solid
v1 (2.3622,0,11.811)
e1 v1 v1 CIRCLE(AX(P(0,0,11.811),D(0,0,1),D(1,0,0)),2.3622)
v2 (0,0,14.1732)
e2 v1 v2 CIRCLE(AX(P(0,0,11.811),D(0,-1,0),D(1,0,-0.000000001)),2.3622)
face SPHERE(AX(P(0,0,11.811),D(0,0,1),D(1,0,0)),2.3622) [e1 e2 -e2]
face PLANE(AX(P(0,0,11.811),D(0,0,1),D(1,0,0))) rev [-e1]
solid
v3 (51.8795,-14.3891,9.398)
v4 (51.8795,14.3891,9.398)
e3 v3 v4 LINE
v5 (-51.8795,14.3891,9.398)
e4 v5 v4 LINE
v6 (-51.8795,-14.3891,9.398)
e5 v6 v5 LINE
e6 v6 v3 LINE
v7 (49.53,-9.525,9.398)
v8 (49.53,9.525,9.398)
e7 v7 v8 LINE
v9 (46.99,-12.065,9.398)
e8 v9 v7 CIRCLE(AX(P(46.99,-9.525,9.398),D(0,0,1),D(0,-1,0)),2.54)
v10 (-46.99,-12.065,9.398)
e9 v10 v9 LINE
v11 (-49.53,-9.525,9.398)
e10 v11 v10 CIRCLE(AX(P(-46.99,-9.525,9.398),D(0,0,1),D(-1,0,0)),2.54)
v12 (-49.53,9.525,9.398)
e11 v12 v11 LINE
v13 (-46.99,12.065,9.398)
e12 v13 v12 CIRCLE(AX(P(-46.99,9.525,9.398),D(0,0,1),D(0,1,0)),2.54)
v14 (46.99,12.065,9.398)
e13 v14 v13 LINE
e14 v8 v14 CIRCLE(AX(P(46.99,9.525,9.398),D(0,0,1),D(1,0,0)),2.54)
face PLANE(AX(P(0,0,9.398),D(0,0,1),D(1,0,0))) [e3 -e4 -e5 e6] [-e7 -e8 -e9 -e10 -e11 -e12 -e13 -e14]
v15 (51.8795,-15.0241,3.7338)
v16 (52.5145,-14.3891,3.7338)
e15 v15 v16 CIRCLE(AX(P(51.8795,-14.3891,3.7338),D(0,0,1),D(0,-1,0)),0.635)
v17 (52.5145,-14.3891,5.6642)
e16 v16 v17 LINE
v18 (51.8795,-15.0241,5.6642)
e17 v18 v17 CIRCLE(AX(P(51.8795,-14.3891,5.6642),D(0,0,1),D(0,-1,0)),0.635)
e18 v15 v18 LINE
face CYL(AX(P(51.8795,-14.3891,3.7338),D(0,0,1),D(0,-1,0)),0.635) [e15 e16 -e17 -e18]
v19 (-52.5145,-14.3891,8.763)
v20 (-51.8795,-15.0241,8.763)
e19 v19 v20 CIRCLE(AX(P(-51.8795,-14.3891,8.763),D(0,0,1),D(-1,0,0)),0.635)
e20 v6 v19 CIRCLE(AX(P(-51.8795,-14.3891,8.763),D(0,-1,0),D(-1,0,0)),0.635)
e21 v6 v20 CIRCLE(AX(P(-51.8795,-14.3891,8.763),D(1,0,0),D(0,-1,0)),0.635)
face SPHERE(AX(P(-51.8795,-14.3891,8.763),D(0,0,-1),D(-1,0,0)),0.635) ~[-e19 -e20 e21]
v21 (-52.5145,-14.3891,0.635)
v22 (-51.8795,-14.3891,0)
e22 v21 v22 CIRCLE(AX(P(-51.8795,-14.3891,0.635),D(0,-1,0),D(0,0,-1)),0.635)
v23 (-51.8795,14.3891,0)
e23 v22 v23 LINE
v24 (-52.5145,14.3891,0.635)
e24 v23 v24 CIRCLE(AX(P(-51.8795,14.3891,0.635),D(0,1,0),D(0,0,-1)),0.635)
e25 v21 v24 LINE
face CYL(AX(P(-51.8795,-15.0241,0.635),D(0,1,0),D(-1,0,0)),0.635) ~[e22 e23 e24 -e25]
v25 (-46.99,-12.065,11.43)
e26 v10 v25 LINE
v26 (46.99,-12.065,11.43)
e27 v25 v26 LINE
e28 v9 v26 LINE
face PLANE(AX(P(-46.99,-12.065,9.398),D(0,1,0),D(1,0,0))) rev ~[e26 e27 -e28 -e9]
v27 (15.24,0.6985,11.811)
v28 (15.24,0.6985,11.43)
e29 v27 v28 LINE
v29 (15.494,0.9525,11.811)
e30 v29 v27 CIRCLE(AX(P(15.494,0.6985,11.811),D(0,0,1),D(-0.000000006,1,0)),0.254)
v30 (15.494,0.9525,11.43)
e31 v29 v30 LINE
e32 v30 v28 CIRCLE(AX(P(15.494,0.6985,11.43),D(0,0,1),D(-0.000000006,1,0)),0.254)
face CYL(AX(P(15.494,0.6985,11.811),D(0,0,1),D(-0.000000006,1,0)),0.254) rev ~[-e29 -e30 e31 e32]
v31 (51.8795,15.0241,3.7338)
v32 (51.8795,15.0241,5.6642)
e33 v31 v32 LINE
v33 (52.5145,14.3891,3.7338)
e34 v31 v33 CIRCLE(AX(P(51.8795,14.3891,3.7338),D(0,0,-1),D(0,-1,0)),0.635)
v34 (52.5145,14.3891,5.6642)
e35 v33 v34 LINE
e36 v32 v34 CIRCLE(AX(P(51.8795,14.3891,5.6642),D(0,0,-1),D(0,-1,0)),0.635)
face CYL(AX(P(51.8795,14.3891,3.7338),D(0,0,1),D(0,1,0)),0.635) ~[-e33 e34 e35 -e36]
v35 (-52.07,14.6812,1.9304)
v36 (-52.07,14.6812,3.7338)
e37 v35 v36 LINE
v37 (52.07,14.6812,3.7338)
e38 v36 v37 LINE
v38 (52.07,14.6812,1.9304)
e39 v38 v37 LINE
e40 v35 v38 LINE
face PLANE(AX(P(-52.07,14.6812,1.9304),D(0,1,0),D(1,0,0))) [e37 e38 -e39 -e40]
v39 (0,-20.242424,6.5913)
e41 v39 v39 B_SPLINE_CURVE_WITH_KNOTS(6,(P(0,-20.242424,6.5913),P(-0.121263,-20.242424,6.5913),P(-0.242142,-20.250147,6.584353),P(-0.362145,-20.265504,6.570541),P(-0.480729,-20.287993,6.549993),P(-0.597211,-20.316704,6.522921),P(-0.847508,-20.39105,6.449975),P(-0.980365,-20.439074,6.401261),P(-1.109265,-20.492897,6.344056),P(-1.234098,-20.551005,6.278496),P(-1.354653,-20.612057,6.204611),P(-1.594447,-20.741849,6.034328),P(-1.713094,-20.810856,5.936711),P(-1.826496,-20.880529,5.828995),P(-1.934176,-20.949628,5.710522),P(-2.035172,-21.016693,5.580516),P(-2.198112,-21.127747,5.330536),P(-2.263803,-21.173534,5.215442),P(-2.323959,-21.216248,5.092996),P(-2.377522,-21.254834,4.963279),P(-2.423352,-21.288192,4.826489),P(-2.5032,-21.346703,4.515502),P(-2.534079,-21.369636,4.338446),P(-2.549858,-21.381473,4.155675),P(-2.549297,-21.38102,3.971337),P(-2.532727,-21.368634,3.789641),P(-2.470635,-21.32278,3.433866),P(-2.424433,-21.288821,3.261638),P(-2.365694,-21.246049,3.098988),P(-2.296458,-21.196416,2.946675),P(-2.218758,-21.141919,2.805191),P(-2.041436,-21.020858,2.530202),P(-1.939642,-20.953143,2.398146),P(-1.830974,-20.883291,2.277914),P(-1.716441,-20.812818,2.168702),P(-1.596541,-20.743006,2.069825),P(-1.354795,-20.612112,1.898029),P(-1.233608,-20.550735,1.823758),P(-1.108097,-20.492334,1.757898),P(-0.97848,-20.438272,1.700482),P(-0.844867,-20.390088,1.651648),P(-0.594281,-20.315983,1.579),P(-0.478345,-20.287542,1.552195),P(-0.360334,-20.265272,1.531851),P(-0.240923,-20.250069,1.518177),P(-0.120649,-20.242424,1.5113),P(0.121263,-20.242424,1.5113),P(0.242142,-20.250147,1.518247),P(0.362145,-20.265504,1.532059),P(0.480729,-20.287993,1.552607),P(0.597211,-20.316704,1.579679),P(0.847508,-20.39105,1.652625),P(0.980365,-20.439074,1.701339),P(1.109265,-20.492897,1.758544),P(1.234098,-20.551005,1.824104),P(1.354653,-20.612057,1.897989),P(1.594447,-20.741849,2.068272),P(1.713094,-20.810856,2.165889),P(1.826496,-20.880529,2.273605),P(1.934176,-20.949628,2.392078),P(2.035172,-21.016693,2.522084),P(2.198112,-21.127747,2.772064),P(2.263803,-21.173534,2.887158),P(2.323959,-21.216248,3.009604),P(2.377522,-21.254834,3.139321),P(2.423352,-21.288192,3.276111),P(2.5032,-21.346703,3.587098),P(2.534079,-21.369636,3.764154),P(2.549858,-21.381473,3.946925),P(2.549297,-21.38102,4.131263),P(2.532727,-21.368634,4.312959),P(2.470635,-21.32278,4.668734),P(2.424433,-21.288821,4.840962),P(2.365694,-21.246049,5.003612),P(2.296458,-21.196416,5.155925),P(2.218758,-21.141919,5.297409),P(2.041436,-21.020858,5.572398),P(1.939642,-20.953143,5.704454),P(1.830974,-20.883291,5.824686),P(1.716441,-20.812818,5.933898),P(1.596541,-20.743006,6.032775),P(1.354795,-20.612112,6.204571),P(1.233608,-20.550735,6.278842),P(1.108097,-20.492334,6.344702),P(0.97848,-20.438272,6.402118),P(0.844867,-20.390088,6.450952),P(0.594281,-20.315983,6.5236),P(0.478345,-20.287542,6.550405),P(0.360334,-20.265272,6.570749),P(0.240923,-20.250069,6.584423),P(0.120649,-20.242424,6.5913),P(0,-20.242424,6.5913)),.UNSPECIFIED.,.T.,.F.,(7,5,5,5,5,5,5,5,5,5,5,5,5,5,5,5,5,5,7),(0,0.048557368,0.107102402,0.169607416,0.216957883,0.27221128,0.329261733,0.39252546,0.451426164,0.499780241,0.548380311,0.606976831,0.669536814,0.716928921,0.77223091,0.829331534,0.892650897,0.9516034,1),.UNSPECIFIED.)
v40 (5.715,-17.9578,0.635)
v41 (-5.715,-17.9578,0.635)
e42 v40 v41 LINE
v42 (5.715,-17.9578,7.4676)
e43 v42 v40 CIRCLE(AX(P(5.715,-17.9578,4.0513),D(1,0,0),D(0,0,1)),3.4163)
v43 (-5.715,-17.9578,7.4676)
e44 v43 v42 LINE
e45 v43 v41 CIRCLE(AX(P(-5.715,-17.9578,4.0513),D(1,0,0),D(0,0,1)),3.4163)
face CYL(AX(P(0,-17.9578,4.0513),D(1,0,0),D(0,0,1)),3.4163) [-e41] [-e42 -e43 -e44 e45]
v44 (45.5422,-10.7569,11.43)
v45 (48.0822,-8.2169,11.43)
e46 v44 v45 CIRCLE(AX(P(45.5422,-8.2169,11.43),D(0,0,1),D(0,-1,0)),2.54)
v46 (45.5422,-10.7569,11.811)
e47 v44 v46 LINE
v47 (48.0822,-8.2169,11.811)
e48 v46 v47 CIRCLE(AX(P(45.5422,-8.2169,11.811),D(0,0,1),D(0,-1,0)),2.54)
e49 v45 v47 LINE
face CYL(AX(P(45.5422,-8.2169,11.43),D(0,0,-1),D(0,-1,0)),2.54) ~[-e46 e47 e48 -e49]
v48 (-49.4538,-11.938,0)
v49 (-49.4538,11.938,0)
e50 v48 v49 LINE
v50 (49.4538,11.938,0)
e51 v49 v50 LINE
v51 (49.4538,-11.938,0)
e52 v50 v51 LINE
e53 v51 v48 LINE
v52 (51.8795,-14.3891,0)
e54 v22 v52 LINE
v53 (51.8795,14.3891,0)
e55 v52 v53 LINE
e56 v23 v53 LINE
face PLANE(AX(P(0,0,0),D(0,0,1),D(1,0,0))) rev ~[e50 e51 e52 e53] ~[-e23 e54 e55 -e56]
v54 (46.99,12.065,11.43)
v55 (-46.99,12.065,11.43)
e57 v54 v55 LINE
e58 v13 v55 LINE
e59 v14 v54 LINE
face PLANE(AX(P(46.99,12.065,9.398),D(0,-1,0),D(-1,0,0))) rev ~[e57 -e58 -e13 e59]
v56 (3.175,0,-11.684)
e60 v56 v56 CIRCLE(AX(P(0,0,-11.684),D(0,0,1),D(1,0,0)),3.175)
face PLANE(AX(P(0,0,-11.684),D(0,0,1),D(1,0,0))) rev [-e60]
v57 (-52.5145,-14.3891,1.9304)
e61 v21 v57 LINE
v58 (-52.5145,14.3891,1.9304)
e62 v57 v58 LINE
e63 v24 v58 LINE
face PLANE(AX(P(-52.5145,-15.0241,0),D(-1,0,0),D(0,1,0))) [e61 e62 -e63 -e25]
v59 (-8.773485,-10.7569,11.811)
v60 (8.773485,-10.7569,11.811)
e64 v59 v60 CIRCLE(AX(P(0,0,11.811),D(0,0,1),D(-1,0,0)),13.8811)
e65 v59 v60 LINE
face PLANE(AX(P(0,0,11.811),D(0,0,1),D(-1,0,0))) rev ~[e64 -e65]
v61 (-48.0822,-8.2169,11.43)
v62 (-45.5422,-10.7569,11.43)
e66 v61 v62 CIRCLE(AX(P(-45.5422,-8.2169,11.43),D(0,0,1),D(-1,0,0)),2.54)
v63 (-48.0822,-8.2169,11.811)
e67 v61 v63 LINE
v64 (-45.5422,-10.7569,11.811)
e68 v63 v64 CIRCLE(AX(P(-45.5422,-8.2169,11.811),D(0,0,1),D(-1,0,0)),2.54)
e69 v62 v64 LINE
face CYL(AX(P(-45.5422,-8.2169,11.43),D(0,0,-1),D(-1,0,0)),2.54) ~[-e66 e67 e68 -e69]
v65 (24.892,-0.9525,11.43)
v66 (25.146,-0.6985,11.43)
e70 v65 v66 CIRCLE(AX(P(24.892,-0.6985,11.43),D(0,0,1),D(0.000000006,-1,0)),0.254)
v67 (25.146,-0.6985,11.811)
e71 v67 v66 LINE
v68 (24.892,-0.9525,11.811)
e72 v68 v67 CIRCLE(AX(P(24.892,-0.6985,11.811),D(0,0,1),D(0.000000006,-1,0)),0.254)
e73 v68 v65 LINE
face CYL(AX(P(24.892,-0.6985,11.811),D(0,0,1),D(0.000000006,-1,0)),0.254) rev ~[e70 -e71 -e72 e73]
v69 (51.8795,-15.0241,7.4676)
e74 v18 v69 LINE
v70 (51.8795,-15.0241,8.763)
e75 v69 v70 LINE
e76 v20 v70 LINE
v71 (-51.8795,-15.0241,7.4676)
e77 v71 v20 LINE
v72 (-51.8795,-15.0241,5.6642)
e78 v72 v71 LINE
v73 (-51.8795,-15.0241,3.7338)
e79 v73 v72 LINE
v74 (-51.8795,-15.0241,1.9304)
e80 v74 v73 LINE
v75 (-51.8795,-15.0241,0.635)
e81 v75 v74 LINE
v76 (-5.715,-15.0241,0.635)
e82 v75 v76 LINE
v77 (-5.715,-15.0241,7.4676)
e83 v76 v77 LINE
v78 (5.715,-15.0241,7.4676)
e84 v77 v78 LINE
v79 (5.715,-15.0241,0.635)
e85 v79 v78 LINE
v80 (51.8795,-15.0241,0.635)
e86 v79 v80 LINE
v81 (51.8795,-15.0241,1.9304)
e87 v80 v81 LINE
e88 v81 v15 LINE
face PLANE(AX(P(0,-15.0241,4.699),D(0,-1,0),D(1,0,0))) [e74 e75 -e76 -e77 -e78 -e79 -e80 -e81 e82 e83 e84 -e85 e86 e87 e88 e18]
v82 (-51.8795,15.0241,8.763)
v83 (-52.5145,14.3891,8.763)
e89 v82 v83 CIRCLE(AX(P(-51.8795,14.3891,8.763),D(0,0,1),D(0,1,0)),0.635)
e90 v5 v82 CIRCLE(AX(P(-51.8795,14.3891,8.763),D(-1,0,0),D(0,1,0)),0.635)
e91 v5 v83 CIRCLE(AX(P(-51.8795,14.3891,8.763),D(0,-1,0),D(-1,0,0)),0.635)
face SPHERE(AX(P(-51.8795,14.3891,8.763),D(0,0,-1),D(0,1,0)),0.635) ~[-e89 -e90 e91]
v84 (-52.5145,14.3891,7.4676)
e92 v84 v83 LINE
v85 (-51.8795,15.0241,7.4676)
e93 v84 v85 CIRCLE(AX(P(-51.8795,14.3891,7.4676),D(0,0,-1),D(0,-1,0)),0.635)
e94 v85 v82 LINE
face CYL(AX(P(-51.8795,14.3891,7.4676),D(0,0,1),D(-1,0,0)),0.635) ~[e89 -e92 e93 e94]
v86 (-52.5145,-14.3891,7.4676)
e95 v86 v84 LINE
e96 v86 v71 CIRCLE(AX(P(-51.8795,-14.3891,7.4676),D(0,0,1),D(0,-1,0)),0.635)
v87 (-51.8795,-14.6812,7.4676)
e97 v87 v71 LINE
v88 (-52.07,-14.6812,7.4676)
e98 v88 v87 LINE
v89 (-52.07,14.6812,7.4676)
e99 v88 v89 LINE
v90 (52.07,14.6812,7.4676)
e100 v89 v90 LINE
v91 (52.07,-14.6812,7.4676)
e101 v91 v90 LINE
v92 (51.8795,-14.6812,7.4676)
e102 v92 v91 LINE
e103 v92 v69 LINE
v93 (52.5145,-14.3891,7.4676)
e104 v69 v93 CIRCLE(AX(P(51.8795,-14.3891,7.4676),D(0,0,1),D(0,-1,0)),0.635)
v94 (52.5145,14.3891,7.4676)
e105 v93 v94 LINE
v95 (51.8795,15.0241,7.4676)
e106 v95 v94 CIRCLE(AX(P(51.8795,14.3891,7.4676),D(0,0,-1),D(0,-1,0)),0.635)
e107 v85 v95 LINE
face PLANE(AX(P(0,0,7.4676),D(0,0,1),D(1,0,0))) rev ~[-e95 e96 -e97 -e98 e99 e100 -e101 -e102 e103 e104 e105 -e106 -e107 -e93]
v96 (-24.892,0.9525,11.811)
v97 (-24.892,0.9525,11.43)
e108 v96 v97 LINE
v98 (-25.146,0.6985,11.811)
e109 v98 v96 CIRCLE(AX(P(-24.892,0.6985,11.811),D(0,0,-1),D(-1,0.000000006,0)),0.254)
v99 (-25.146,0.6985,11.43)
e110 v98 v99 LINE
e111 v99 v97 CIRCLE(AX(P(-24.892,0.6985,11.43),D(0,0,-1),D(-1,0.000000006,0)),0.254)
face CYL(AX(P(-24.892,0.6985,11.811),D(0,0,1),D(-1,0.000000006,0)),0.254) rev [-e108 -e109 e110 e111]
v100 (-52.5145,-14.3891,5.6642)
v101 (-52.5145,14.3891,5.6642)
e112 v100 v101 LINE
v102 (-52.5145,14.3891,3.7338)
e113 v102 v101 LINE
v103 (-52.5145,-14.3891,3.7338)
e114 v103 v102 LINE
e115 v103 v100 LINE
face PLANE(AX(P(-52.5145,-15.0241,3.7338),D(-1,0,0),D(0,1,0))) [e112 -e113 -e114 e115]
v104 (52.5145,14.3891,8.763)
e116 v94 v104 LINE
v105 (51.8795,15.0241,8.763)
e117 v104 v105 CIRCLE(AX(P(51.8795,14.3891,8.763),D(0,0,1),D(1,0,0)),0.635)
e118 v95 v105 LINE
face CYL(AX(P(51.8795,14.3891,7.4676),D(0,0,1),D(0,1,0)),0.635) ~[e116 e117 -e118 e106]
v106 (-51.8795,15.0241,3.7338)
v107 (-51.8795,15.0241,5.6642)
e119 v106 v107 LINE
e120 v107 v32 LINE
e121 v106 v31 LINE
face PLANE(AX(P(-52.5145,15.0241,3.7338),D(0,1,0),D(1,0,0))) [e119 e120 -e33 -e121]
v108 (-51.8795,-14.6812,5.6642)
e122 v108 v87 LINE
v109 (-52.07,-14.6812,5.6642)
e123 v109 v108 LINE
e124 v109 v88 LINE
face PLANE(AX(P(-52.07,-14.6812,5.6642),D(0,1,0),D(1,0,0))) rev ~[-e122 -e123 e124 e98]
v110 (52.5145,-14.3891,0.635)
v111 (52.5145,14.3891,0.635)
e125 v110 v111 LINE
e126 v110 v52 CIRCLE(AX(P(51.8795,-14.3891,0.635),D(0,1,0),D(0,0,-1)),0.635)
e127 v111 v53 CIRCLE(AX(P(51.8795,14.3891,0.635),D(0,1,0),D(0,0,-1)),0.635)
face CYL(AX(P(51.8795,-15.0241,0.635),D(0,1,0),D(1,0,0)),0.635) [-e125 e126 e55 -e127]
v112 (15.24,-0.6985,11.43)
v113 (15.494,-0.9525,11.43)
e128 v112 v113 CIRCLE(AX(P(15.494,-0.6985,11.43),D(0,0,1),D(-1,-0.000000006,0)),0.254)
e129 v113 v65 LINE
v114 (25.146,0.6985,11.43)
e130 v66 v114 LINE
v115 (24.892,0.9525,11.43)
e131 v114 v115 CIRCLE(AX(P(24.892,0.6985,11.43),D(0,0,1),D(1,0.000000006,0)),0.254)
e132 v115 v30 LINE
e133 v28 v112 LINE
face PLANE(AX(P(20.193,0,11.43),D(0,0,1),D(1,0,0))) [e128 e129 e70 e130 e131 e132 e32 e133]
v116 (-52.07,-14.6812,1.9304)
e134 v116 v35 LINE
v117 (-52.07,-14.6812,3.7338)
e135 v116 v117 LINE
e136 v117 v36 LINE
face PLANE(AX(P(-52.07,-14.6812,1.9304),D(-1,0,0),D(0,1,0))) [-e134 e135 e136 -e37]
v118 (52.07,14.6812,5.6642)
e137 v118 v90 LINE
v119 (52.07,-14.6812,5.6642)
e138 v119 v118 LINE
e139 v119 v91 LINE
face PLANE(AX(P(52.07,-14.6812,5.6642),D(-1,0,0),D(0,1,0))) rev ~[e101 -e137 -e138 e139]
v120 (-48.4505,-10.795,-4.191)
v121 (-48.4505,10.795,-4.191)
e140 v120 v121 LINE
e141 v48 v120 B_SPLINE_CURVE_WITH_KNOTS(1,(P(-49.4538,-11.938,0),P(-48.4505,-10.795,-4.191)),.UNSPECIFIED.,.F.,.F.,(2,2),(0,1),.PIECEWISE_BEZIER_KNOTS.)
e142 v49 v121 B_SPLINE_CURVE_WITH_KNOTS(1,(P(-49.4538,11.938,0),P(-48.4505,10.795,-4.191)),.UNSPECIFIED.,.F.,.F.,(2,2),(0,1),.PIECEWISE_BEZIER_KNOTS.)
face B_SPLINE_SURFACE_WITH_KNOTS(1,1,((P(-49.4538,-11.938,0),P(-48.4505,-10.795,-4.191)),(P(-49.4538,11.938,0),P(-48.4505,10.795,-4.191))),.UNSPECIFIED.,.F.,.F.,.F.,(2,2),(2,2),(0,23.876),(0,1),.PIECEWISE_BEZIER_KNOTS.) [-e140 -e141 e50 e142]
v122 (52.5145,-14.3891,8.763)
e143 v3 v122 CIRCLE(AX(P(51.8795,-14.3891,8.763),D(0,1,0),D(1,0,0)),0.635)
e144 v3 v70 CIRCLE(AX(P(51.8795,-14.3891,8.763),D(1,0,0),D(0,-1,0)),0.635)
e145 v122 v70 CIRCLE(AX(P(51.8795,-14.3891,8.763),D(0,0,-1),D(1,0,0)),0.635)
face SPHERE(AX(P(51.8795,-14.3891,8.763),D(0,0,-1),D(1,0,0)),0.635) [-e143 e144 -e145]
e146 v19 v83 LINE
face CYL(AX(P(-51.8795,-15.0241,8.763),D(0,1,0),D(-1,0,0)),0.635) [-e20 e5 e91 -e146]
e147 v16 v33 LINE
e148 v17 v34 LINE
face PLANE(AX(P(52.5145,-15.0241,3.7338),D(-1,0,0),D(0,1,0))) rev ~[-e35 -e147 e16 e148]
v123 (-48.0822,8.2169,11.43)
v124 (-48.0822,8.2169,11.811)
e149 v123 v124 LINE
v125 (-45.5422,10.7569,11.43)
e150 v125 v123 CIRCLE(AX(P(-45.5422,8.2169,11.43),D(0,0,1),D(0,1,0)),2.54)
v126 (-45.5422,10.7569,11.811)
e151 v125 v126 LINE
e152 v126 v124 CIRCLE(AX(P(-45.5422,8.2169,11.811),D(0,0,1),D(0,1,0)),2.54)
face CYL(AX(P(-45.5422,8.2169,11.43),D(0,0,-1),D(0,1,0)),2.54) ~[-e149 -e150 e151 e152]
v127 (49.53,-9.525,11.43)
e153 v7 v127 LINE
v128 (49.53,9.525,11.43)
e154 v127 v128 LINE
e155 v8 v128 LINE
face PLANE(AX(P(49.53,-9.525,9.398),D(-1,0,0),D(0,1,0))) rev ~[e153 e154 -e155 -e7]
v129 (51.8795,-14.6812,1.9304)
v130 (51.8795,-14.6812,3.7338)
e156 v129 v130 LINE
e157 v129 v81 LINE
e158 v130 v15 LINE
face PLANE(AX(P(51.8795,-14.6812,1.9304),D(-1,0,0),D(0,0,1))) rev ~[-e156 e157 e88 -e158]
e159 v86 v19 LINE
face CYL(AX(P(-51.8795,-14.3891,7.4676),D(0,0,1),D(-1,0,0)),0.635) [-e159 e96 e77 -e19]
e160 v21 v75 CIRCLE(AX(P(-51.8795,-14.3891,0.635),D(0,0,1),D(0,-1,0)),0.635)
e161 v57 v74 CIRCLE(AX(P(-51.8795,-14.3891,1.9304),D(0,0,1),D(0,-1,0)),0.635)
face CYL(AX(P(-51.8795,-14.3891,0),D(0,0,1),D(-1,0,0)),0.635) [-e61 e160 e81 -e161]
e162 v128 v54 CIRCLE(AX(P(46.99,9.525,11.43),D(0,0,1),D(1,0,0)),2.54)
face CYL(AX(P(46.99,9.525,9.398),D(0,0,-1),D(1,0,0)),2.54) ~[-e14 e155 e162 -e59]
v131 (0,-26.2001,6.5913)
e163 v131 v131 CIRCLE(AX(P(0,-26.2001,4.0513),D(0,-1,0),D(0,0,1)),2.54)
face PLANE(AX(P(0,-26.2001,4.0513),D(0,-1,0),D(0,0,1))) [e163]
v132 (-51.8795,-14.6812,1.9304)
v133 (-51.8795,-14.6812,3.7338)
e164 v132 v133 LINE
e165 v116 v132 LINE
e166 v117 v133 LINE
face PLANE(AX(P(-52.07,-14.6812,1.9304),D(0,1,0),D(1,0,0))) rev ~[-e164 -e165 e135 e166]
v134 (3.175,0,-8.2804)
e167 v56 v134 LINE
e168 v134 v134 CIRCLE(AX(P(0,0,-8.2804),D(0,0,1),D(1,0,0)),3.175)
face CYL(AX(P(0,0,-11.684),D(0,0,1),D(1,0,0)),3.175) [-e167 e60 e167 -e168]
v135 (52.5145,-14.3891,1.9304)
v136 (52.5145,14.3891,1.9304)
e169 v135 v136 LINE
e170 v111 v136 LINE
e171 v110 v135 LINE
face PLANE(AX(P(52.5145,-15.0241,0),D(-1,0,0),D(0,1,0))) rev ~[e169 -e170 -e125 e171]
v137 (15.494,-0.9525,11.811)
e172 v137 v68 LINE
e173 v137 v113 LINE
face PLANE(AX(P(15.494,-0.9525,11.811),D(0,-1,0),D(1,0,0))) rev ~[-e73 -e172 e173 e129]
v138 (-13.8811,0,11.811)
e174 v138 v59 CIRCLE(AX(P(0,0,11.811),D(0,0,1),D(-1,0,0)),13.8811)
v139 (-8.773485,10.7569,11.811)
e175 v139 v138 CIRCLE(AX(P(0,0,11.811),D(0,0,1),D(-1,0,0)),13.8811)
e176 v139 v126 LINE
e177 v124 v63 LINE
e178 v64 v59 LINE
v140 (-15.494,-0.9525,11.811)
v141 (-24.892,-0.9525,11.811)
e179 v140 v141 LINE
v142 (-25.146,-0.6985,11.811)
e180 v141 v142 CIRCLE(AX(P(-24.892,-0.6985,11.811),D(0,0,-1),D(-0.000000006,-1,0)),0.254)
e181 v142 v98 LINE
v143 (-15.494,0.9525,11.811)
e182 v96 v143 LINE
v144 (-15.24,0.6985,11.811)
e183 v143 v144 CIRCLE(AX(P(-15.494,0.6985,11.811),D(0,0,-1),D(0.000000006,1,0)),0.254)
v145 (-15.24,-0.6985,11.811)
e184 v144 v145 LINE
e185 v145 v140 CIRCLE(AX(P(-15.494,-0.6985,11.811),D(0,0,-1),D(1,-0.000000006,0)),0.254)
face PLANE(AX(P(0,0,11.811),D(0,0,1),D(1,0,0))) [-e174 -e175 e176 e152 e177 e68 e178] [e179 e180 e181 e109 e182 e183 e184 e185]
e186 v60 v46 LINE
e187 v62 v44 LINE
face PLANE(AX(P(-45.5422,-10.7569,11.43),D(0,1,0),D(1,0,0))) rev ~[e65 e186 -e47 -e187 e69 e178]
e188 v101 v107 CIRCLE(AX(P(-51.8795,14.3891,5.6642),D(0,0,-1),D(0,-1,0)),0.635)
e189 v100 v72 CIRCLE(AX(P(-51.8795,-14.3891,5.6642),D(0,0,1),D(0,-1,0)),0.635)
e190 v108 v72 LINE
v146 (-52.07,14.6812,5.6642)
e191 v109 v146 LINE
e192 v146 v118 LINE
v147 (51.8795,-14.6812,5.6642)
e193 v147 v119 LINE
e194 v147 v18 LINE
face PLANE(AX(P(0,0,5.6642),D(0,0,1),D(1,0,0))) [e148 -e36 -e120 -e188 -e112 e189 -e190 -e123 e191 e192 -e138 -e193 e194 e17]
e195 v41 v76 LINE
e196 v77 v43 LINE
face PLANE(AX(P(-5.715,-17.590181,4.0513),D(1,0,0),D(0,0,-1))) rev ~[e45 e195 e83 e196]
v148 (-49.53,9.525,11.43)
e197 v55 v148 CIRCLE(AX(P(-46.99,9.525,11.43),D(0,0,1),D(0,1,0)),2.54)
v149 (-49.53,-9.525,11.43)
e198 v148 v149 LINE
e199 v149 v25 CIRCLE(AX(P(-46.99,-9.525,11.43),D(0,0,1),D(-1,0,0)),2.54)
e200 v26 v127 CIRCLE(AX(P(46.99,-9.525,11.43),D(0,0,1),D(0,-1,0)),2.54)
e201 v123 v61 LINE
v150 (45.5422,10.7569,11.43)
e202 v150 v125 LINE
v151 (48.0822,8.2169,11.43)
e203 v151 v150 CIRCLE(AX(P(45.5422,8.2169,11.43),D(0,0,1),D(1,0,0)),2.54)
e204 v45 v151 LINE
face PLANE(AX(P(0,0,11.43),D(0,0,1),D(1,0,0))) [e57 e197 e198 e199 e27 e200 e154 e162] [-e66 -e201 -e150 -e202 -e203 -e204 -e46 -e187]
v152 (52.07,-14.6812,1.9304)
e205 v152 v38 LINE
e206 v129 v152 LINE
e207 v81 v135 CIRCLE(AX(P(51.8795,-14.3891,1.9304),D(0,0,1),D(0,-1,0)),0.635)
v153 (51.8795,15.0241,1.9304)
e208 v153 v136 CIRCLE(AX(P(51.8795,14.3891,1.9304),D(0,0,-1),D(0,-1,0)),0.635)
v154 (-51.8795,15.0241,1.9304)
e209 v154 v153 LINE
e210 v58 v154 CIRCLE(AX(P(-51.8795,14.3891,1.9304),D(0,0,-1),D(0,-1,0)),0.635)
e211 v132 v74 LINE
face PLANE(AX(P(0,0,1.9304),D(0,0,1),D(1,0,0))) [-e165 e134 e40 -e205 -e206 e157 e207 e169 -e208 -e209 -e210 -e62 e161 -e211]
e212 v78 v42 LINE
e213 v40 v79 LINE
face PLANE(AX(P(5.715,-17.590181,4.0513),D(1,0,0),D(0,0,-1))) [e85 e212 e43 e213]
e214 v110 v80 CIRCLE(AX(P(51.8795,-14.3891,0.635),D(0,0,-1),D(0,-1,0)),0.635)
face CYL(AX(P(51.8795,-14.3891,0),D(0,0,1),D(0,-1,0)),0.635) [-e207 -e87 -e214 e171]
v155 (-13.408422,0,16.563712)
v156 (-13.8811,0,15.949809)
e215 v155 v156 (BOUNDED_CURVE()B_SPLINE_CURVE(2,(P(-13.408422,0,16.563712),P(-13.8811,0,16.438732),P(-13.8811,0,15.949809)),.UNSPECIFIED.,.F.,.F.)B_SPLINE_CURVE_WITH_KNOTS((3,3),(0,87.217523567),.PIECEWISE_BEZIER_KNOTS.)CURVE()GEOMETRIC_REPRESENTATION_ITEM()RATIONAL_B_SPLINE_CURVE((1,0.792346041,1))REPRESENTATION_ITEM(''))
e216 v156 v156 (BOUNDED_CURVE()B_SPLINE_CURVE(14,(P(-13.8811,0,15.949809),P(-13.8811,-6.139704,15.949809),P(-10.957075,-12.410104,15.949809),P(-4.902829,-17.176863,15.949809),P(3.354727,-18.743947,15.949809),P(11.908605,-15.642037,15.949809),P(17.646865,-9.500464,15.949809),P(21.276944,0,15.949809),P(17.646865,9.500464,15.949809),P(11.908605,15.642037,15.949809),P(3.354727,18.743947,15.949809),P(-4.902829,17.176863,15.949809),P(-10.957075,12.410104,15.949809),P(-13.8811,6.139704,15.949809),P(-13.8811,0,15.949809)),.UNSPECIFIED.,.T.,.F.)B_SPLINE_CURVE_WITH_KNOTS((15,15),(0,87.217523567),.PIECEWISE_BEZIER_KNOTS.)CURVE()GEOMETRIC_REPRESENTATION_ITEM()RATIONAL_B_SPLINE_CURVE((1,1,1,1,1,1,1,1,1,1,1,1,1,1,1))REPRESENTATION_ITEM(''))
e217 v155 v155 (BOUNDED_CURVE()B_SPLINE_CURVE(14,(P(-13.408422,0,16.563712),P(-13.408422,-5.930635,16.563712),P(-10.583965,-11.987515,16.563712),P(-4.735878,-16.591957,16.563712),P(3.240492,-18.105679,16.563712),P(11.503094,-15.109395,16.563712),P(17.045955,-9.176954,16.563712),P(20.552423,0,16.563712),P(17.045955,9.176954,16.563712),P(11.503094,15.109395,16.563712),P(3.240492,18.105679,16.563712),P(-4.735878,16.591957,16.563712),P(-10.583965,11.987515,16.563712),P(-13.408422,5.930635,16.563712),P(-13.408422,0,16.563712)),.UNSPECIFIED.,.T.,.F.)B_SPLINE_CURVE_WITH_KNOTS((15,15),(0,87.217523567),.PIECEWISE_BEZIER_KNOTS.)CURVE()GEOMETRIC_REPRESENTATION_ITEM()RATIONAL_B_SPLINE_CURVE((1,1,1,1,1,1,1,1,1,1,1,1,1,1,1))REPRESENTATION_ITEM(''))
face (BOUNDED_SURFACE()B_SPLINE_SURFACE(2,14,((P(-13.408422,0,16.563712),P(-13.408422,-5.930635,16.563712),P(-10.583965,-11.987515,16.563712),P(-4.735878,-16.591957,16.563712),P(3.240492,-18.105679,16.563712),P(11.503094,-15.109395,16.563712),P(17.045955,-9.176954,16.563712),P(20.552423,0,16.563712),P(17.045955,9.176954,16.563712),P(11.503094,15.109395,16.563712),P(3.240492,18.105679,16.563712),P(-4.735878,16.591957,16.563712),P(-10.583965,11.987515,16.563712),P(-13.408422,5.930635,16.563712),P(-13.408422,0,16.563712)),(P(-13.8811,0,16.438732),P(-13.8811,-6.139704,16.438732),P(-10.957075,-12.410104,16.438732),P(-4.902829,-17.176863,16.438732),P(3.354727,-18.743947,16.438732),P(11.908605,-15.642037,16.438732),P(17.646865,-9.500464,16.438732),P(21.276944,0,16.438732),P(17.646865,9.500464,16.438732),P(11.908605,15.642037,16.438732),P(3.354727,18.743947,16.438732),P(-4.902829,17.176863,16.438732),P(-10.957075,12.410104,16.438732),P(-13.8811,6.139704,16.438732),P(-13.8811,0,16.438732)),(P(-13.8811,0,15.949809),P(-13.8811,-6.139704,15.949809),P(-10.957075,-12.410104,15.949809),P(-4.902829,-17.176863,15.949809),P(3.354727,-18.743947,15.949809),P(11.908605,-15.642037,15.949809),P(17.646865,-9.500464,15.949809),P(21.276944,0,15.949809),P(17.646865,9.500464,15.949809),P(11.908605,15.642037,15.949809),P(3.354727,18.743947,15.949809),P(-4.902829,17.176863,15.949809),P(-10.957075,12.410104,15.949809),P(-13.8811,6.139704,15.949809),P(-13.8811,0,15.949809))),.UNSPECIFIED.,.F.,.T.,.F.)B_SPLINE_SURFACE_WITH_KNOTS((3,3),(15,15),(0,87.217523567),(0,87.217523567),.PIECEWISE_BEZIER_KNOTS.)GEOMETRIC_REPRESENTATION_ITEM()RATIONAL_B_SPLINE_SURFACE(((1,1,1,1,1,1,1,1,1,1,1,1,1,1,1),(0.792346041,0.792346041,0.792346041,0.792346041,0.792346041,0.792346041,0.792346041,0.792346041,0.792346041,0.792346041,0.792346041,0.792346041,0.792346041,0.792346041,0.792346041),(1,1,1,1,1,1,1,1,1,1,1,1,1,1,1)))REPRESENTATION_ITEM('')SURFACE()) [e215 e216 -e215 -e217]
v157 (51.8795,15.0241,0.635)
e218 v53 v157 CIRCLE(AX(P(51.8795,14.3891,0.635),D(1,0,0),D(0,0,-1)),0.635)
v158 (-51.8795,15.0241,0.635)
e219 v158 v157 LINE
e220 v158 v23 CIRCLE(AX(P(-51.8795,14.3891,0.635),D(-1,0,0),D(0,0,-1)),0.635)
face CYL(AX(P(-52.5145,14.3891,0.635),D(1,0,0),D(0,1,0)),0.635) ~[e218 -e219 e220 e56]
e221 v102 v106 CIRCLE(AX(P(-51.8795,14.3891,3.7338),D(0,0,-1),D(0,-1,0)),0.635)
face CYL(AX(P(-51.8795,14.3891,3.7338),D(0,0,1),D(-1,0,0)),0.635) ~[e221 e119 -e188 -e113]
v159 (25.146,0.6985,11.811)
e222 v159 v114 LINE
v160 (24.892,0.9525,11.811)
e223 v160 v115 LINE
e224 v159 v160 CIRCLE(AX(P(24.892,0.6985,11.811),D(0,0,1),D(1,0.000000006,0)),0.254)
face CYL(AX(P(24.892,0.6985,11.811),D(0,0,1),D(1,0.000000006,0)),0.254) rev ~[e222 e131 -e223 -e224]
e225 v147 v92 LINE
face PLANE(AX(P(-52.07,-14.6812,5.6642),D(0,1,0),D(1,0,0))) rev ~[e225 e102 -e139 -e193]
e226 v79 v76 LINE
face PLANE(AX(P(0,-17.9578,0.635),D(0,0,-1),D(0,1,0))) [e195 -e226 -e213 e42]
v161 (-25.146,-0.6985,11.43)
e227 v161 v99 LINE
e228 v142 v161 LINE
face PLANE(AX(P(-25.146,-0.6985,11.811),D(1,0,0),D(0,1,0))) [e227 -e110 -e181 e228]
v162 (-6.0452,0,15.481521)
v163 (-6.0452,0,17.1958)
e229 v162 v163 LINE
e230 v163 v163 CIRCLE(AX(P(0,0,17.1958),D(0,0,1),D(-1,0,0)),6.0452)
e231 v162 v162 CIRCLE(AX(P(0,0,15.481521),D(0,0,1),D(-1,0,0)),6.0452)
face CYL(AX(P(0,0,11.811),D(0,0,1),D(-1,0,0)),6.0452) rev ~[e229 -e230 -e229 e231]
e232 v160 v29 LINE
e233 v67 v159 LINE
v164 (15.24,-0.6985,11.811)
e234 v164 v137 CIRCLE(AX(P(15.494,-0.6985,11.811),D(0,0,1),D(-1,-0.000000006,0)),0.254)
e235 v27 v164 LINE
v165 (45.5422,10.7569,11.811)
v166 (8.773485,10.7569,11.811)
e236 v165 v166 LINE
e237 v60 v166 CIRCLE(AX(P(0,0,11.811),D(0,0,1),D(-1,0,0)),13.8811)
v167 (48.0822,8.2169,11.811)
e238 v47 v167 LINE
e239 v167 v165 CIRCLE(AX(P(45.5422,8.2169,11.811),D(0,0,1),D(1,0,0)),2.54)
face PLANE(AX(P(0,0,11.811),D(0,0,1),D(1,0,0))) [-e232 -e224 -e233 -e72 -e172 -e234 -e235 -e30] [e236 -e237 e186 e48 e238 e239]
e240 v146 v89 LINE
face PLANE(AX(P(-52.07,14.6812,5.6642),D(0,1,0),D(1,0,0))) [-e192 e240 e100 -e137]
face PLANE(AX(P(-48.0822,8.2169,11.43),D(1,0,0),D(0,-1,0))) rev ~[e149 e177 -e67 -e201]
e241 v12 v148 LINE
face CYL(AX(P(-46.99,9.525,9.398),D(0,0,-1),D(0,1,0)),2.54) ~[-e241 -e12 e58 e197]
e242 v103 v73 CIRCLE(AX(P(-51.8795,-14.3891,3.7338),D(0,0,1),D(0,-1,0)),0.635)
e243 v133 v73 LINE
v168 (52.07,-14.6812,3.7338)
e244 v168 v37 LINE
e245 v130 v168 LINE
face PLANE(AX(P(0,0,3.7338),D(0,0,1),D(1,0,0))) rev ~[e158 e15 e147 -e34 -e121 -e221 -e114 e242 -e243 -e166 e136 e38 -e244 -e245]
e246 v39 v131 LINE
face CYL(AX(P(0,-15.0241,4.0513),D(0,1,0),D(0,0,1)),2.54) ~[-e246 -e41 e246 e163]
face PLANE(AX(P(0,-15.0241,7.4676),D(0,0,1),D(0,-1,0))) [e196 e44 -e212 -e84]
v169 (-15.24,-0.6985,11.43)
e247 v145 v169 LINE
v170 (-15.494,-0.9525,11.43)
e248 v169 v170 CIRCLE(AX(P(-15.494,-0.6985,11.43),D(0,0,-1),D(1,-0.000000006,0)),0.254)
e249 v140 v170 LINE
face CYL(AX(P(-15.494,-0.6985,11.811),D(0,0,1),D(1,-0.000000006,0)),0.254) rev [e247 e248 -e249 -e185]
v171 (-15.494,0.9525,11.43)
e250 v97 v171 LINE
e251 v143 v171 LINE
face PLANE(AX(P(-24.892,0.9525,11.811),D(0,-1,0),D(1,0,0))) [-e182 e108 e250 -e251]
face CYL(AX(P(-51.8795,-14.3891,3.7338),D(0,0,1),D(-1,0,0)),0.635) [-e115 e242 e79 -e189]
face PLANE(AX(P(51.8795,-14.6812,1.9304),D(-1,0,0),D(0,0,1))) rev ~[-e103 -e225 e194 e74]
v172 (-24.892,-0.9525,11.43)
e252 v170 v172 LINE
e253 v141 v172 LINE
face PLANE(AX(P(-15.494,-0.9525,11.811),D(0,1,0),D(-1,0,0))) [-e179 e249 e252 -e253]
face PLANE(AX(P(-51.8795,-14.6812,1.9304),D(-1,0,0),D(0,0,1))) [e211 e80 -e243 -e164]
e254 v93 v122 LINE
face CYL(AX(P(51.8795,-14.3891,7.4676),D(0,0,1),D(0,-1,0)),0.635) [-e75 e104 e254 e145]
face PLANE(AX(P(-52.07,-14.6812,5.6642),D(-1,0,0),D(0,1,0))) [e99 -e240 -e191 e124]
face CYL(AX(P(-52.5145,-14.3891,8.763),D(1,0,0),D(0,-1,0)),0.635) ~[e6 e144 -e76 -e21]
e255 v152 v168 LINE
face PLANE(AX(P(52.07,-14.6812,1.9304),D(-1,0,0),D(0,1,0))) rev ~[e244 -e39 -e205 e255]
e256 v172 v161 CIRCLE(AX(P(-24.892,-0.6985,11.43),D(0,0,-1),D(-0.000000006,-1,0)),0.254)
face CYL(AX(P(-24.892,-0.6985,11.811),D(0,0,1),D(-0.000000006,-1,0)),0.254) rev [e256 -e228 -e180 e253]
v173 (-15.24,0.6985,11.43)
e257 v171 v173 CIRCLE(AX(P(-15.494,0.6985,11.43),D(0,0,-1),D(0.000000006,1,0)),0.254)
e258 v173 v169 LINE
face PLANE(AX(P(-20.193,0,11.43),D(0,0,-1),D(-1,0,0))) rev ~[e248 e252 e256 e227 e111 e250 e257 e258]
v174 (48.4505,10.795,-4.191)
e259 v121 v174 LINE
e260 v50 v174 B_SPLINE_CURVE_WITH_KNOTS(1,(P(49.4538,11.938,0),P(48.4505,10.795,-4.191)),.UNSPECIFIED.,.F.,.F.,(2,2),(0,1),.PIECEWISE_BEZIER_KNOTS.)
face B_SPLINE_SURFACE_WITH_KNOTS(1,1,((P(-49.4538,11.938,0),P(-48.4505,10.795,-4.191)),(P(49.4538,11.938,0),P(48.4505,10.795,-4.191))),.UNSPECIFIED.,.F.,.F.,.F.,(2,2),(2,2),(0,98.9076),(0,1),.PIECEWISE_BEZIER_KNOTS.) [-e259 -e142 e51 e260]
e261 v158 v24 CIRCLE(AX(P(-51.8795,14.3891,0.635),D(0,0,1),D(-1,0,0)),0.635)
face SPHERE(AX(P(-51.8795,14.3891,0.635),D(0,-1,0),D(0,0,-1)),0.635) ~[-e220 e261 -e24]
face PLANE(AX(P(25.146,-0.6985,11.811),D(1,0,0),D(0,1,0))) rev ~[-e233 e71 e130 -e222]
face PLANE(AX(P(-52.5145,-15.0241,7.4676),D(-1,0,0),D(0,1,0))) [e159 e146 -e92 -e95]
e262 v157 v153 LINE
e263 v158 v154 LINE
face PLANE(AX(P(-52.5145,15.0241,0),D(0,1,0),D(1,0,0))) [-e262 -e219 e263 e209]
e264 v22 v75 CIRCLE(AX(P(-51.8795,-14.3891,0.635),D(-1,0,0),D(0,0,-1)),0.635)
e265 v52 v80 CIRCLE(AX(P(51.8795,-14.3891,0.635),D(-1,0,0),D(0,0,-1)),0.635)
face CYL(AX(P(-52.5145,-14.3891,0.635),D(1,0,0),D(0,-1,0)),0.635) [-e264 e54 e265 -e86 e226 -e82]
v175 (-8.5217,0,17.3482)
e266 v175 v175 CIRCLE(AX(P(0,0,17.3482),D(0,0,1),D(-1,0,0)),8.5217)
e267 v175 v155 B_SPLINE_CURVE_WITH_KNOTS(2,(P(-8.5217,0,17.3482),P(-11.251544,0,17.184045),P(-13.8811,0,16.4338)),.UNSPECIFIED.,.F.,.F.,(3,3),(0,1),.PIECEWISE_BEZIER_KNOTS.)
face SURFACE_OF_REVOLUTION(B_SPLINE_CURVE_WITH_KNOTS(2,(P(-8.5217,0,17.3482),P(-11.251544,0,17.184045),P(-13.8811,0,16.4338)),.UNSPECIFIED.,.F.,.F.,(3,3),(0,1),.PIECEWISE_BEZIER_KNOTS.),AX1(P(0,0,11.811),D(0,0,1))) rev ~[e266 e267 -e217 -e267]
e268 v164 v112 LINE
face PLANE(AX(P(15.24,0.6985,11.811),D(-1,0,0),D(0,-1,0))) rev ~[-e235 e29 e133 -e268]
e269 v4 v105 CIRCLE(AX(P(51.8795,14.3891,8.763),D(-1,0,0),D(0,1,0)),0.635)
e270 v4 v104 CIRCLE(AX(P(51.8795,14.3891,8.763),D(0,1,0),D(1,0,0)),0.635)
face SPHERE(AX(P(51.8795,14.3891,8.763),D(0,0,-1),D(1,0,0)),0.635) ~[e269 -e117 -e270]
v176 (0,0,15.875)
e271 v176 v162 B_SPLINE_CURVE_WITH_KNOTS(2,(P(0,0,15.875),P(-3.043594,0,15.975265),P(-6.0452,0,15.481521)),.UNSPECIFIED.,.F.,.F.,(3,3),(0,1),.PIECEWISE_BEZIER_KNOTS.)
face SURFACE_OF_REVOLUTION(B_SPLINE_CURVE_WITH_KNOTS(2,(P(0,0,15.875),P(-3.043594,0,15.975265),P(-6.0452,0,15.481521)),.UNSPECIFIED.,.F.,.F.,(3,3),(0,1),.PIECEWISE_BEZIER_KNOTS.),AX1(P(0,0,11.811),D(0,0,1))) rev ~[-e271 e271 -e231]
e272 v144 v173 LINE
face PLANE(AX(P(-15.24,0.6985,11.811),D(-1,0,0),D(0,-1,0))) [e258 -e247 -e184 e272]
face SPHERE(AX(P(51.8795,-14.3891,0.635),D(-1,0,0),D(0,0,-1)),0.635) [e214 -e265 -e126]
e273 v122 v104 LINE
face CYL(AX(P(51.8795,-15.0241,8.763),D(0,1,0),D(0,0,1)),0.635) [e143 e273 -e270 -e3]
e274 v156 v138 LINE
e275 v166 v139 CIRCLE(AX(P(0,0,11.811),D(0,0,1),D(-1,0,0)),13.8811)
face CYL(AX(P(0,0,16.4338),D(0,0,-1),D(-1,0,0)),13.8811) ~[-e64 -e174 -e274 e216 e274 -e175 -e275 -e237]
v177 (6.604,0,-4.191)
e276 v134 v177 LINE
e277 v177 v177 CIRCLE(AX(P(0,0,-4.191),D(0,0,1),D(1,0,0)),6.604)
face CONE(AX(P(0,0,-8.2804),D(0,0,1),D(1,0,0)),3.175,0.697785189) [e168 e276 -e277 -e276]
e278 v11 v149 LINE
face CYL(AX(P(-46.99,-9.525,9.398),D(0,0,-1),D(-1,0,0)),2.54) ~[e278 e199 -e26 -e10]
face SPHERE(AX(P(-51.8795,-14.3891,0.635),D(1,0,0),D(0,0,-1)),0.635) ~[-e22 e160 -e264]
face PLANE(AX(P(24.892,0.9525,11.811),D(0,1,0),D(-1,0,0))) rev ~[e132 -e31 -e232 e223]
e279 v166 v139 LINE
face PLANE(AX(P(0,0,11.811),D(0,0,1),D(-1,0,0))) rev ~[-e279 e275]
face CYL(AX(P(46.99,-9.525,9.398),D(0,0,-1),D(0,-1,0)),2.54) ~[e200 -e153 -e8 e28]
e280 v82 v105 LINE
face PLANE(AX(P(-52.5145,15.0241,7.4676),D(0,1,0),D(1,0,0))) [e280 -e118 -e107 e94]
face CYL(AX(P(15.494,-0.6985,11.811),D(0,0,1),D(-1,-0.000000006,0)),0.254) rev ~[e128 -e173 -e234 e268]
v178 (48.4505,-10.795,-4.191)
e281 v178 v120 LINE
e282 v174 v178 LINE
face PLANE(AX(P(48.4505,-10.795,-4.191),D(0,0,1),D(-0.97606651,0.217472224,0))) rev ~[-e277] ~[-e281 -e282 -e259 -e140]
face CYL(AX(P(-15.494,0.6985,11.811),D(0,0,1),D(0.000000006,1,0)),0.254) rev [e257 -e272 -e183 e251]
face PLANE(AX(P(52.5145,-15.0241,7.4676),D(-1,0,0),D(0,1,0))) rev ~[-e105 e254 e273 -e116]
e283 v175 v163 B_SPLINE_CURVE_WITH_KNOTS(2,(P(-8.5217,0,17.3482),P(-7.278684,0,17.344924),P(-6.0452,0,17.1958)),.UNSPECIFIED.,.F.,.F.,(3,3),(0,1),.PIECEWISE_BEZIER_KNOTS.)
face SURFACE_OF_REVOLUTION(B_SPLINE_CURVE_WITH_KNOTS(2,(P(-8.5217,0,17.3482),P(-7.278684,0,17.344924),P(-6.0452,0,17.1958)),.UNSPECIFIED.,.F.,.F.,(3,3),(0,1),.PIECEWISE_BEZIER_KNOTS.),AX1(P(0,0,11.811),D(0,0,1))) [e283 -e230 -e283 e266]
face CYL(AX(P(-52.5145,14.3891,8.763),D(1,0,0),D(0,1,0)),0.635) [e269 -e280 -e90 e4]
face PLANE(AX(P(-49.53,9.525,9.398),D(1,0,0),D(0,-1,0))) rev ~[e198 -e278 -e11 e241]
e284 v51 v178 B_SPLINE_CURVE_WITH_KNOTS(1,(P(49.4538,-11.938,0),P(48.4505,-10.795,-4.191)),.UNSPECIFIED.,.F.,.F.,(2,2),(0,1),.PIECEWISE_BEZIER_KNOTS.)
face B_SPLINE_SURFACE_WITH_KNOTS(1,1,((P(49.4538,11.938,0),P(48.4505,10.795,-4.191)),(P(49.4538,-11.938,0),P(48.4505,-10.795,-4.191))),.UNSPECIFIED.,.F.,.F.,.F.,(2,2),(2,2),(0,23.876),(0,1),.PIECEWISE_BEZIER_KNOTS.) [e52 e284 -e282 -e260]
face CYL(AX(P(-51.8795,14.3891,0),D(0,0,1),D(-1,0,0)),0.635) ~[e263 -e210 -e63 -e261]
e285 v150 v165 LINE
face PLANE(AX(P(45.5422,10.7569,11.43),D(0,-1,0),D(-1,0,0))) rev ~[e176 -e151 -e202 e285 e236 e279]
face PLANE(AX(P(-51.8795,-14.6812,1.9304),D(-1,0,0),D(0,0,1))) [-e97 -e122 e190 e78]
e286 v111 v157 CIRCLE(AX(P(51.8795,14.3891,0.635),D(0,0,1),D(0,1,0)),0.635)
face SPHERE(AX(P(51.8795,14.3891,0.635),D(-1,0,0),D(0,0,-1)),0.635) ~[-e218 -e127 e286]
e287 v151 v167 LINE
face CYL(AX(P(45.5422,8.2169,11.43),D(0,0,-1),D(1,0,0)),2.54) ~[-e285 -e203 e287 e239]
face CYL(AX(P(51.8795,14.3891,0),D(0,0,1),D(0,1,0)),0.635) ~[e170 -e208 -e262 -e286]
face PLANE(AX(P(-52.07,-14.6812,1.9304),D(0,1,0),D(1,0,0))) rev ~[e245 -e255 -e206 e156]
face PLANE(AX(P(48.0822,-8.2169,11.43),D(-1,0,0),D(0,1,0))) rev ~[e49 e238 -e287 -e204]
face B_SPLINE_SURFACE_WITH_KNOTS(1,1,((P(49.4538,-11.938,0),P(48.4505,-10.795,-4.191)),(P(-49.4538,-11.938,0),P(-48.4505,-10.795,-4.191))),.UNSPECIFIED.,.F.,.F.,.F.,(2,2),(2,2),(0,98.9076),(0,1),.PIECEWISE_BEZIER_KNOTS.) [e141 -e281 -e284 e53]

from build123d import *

# Parameters (mm, degrees)
SKETCH1_W           = 105.029
SKETCH1_H           = 30.0482
BOSS_EXTRUDE1_DEPTH = 1.9304
SKETCH2_W           = 104.14
SKETCH2_H           = 29.3624
BOSS_EXTRUDE2_DEPTH = 1.9304
LPATTERN1_COUNT     = 2
LPATTERN1_PITCH     = 3.7338
LPATTERN2_COUNT     = 2
LPATTERN2_PITCH     = 7.4676
FILLET1_R           = 0.635
SKETCH7_W           = 103.759
SKETCH7_H           = 5.5372
BOSS_EXTRUDE3_DEPTH = 0.3429
BOSS_EXTRUDE4_DEPTH = 2.032
BOSS_EXTRUDE5_DEPTH = 0.381
FILLET2_R           = 0.635
CUT_EXTRUDE1_DEPTH  = 0.381
BOSS_EXTRUDE6_DEPTH = 5.715
SKETCH18_R          = 2.54
BOSS_EXTRUDE7_DEPTH = 11.176


with BuildPart() as part:
    # Sketch1 → Boss-Extrude1 (new body)
    with BuildSketch(Plane.XY):
        Rectangle(SKETCH1_W, SKETCH1_H)
    boss_extrude1 = extrude(amount=BOSS_EXTRUDE1_DEPTH)

    # Sketch2 → Boss-Extrude2 (add)
    with BuildSketch(Plane.XY.offset(1.9304)):
        Rectangle(SKETCH2_W, SKETCH2_H)
    boss_extrude2 = extrude(amount=BOSS_EXTRUDE2_DEPTH)

    # LPattern1: Boss-Extrude1, Boss-Extrude2 ×2
    with Locations(*[(0, 0, i * LPATTERN1_PITCH) for i in range(1, LPATTERN1_COUNT)]):
        add(boss_extrude1)
        add(boss_extrude2)

    # LPattern2: Boss-Extrude1 ×2
    with Locations(*[(0, 0, i * LPATTERN2_PITCH) for i in range(1, LPATTERN2_COUNT)]):
        add(boss_extrude1)

    # Sketch4 → Loft1 section 0
    with BuildSketch(Plane(origin=(0, 0, 0), x_dir=(-1, 0, 0), z_dir=(0, 0, -1))):
        with BuildLine():
            Line((-49.4538, -11.938), (49.4538, -11.938))
            Line((49.4538, -11.938), (49.4538, 11.938))
            Line((49.4538, 11.938), (-49.4538, 11.938))
            Line((-49.4538, 11.938), (-49.4538, -11.938))
        make_face()
    # Sketch5 → Loft1 section 1
    with BuildSketch(Plane(origin=(0, 0, -4.191), x_dir=(-1, 0, 0), z_dir=(0, 0, -1))):
        with BuildLine():
            Line((-48.4505, -10.795), (48.4505, -10.795))
            Line((48.4505, -10.795), (48.4505, 10.795))
            Line((48.4505, 10.795), (-48.4505, 10.795))
            Line((-48.4505, 10.795), (-48.4505, -10.795))
        make_face()
    loft()

    # Fillet1
    fillet1_edges = [part.edges().sort_by_distance(p)[0] for p in [
        (52.5145, -15.0241, 4.699),
        (52.5145, 15.0241, 4.699),
        (-52.5145, 15.0241, 4.699),
        (-52.5145, -15.0241, 4.699),
        (0, -15.0241, 0),
        (-52.5145, 0, 0),
        (0, 15.0241, 0),
        (52.5145, 0, 0),
        (52.5145, -15.0241, 8.4328),
        (52.5145, 15.0241, 8.4328),
        (-52.5145, 15.0241, 8.4328),
        (-52.5145, -15.0241, 8.4328),
        (52.5145, 0, 9.398),
        (0, 15.0241, 9.398),
        (-52.5145, 0, 9.398),
        (0, -15.0241, 9.398),
        (52.5145, -15.0241, 0.9652),
        (-52.5145, -15.0241, 0.9652),
        (-52.5145, 15.0241, 0.9652),
        (52.5145, 15.0241, 0.9652),
    ]]
    fillet(fillet1_edges, radius=FILLET1_R)

    # Sketch7 → Boss-Extrude3 (add)
    with BuildSketch(Plane.XZ.offset(14.6812)):
        with Locations((0, 4.699)):
            Rectangle(SKETCH7_W, SKETCH7_H)
    extrude(amount=BOSS_EXTRUDE3_DEPTH)

    # Sketch8 → Boss-Extrude4 (add)
    with BuildSketch(Plane.XY.offset(9.398)):
        with BuildLine():
            Line((-46.99, -12.065), (46.99, -12.065))
            ThreePointArc((46.99, -12.065), (48.786051224, -11.321051224), (49.53, -9.525))
            Line((49.53, -9.525), (49.53, 9.525))
            ThreePointArc((49.53, 9.525), (48.786051224, 11.321051224), (46.99, 12.065))
            Line((46.99, 12.065), (-46.99, 12.065))
            ThreePointArc((-46.99, 12.065), (-48.786051224, 11.321051224), (-49.53, 9.525))
            Line((-49.53, 9.525), (-49.53, -9.525))
            ThreePointArc((-49.53, -9.525), (-48.786051224, -11.321051224), (-46.99, -12.065))
        make_face()
    extrude(amount=BOSS_EXTRUDE4_DEPTH)

    # Sketch9 → Boss-Extrude5 (add)
    with BuildSketch(Plane.XY.offset(11.43)):
        with BuildLine():
            Line((-45.5422, -10.7569), (45.5422, -10.7569))
            ThreePointArc((45.5422, -10.7569), (47.338251224, -10.012951224), (48.0822, -8.2169))
            Line((48.0822, -8.2169), (48.0822, 8.2169))
            ThreePointArc((48.0822, 8.2169), (47.338251224, 10.012951224), (45.5422, 10.7569))
            Line((45.5422, 10.7569), (-45.5422, 10.7569))
            ThreePointArc((-45.5422, 10.7569), (-47.338251224, 10.012951224), (-48.0822, 8.2169))
            Line((-48.0822, 8.2169), (-48.0822, -8.2169))
            ThreePointArc((-48.0822, -8.2169), (-47.338251224, -10.012951224), (-45.5422, -10.7569))
        make_face()
    extrude(amount=BOSS_EXTRUDE5_DEPTH)

    # Sketch11 → Revolve2 (revolve)
    with BuildSketch(Plane(origin=(0, 0, 0), x_dir=(1, 0, 0), z_dir=(0, 1, 0)), mode=Mode.PRIVATE) as revolve2_sk:
        with BuildLine():
            Line((6.0452, -11.811), (0, -11.811))
            Line((0, -11.811), (0, -15.875))
            add(Edge.make_bspline(
                [(0, -15.875), (3.043594476, -15.975265485), (6.0452, -15.481521135)],
                knots=[0, 0, 0, 1, 1, 1], degree=2))
            Line((6.0452, -15.481521135), (6.0452, -11.811))
        make_face()
        with BuildLine():
            Line((8.5217, -11.811), (6.0452, -11.811))
            Line((6.0452, -11.811), (6.0452, -15.481521135))
            Line((6.0452, -15.481521135), (6.0452, -17.1958))
            add(Edge.make_bspline(
                [(8.5217, -17.3482), (7.278684306, -17.344923814), (6.0452, -17.1958)],
                knots=[0, 0, 0, 1, 1, 1], degree=2))
            Line((8.5217, -17.3482), (8.5217, -11.811))
        make_face()
        with BuildLine():
            Line((13.8811, -11.811), (8.5217, -11.811))
            Line((8.5217, -11.811), (8.5217, -17.3482))
            add(Edge.make_bspline(
                [(8.5217, -17.3482), (11.251543816, -17.184044581), (13.8811, -16.4338)],
                knots=[0, 0, 0, 1, 1, 1], degree=2))
            Line((13.8811, -16.4338), (13.8811, -11.811))
        make_face()
    revolve(revolve2_sk.sketch.rotate(Axis((0, 0, 11.811), (0, 0, 1)), 180), axis=Axis((0, 0, 11.811), (0, 0, 1)))

    # Fillet2
    fillet2_edges = [part.edges().sort_by_distance(p)[0] for p in [
        (13.8811, 0, 16.4338),
    ]]
    fillet(fillet2_edges, radius=FILLET2_R)

    # Sketch15 → Cut-Extrude1 (cut)
    with BuildSketch(Plane.XY.offset(11.811)):
        with BuildLine():
            Line((15.494, -0.9525), (24.892, -0.9525))
            ThreePointArc((24.892, -0.9525), (25.071605122, -0.878105122), (25.146, -0.6985))
            Line((25.146, -0.6985), (25.146, 0.6985))
            ThreePointArc((25.146, 0.6985), (25.071605122, 0.878105122), (24.892, 0.9525))
            Line((24.892, 0.9525), (15.494, 0.9525))
            ThreePointArc((15.494, 0.9525), (15.314394878, 0.878105122), (15.24, 0.6985))
            Line((15.24, 0.6985), (15.24, -0.6985))
            ThreePointArc((15.24, -0.6985), (15.314394878, -0.878105122), (15.494, -0.9525))
        make_face()
        with BuildLine():
            Line((-25.146, -0.6985), (-25.146, 0.6985))
            ThreePointArc((-25.146, 0.6985), (-25.071605122, 0.878105122), (-24.892, 0.9525))
            Line((-24.892, 0.9525), (-15.494, 0.9525))
            ThreePointArc((-15.494, 0.9525), (-15.314394878, 0.878105122), (-15.24, 0.6985))
            Line((-15.24, 0.6985), (-15.24, -0.6985))
            ThreePointArc((-15.24, -0.6985), (-15.314394878, -0.878105122), (-15.494, -0.9525))
            Line((-15.494, -0.9525), (-24.892, -0.9525))
            ThreePointArc((-24.892, -0.9525), (-25.071605122, -0.878105122), (-25.146, -0.6985))
        make_face()
    extrude(amount=-CUT_EXTRUDE1_DEPTH, mode=Mode.SUBTRACT)

    # Sketch16 → Boss-Extrude6 (add, symmetric)
    with BuildSketch(Plane(origin=(0, 0, 0), x_dir=(0, 0, -1), z_dir=(1, 0, 0))):
        with BuildLine():
            Line((-0.635, -15.0241), (-7.4676, -15.0241))
            Line((-7.4676, -15.0241), (-7.4676, -17.9578))
            ThreePointArc((-7.4676, -17.9578), (-4.0513, -21.3741), (-0.635, -17.9578))
            Line((-0.635, -17.9578), (-0.635, -15.0241))
        make_face()
    extrude(amount=BOSS_EXTRUDE6_DEPTH, both=True)

    # Sketch18 → Boss-Extrude7 (add)
    with BuildSketch(Plane(origin=(0, -15.0241, 0), x_dir=(-1, 0, 0), z_dir=(0, -1, 0))):
        with Locations(Location((0, -4.0513, 0), (0, 0, 270))):
            Circle(SKETCH18_R)
    extrude(amount=BOSS_EXTRUDE7_DEPTH)

    # Sketch20 → Revolve4 (revolve)
    with BuildSketch(Plane(origin=(0, 0, 0), x_dir=(0, 0, -1), z_dir=(1, 0, 0)), mode=Mode.PRIVATE) as revolve4_sk:
        Polygon((4.191, 0), (11.684, 0), (11.684, 3.175), (8.2804, 3.175), (4.191, 6.604), align=None)
    revolve(revolve4_sk.sketch.rotate(Axis((0, 0, 24.542527364), (0, 0, 1)), 270), axis=Axis((0, 0, 24.542527364), (0, 0, 1)))


with BuildPart() as body_2:
    # Sketch14 → Revolve3 (revolve)
    with BuildSketch(Plane(origin=(0, 0, 0), x_dir=(1, 0, 0), z_dir=(0, 1, 0))):
        with BuildLine():
            Line((0, -14.1732), (0, -11.811))
            Line((0, -11.811), (2.3622, -11.811))
            ThreePointArc((2.3622, -11.811), (1.670327639, -13.481327639), (0, -14.1732))
        make_face()
    revolve(axis=Axis((0, 0, -30.038958129), (0, 0, 1)))


solid = Compound([part.part, body_2.part])
